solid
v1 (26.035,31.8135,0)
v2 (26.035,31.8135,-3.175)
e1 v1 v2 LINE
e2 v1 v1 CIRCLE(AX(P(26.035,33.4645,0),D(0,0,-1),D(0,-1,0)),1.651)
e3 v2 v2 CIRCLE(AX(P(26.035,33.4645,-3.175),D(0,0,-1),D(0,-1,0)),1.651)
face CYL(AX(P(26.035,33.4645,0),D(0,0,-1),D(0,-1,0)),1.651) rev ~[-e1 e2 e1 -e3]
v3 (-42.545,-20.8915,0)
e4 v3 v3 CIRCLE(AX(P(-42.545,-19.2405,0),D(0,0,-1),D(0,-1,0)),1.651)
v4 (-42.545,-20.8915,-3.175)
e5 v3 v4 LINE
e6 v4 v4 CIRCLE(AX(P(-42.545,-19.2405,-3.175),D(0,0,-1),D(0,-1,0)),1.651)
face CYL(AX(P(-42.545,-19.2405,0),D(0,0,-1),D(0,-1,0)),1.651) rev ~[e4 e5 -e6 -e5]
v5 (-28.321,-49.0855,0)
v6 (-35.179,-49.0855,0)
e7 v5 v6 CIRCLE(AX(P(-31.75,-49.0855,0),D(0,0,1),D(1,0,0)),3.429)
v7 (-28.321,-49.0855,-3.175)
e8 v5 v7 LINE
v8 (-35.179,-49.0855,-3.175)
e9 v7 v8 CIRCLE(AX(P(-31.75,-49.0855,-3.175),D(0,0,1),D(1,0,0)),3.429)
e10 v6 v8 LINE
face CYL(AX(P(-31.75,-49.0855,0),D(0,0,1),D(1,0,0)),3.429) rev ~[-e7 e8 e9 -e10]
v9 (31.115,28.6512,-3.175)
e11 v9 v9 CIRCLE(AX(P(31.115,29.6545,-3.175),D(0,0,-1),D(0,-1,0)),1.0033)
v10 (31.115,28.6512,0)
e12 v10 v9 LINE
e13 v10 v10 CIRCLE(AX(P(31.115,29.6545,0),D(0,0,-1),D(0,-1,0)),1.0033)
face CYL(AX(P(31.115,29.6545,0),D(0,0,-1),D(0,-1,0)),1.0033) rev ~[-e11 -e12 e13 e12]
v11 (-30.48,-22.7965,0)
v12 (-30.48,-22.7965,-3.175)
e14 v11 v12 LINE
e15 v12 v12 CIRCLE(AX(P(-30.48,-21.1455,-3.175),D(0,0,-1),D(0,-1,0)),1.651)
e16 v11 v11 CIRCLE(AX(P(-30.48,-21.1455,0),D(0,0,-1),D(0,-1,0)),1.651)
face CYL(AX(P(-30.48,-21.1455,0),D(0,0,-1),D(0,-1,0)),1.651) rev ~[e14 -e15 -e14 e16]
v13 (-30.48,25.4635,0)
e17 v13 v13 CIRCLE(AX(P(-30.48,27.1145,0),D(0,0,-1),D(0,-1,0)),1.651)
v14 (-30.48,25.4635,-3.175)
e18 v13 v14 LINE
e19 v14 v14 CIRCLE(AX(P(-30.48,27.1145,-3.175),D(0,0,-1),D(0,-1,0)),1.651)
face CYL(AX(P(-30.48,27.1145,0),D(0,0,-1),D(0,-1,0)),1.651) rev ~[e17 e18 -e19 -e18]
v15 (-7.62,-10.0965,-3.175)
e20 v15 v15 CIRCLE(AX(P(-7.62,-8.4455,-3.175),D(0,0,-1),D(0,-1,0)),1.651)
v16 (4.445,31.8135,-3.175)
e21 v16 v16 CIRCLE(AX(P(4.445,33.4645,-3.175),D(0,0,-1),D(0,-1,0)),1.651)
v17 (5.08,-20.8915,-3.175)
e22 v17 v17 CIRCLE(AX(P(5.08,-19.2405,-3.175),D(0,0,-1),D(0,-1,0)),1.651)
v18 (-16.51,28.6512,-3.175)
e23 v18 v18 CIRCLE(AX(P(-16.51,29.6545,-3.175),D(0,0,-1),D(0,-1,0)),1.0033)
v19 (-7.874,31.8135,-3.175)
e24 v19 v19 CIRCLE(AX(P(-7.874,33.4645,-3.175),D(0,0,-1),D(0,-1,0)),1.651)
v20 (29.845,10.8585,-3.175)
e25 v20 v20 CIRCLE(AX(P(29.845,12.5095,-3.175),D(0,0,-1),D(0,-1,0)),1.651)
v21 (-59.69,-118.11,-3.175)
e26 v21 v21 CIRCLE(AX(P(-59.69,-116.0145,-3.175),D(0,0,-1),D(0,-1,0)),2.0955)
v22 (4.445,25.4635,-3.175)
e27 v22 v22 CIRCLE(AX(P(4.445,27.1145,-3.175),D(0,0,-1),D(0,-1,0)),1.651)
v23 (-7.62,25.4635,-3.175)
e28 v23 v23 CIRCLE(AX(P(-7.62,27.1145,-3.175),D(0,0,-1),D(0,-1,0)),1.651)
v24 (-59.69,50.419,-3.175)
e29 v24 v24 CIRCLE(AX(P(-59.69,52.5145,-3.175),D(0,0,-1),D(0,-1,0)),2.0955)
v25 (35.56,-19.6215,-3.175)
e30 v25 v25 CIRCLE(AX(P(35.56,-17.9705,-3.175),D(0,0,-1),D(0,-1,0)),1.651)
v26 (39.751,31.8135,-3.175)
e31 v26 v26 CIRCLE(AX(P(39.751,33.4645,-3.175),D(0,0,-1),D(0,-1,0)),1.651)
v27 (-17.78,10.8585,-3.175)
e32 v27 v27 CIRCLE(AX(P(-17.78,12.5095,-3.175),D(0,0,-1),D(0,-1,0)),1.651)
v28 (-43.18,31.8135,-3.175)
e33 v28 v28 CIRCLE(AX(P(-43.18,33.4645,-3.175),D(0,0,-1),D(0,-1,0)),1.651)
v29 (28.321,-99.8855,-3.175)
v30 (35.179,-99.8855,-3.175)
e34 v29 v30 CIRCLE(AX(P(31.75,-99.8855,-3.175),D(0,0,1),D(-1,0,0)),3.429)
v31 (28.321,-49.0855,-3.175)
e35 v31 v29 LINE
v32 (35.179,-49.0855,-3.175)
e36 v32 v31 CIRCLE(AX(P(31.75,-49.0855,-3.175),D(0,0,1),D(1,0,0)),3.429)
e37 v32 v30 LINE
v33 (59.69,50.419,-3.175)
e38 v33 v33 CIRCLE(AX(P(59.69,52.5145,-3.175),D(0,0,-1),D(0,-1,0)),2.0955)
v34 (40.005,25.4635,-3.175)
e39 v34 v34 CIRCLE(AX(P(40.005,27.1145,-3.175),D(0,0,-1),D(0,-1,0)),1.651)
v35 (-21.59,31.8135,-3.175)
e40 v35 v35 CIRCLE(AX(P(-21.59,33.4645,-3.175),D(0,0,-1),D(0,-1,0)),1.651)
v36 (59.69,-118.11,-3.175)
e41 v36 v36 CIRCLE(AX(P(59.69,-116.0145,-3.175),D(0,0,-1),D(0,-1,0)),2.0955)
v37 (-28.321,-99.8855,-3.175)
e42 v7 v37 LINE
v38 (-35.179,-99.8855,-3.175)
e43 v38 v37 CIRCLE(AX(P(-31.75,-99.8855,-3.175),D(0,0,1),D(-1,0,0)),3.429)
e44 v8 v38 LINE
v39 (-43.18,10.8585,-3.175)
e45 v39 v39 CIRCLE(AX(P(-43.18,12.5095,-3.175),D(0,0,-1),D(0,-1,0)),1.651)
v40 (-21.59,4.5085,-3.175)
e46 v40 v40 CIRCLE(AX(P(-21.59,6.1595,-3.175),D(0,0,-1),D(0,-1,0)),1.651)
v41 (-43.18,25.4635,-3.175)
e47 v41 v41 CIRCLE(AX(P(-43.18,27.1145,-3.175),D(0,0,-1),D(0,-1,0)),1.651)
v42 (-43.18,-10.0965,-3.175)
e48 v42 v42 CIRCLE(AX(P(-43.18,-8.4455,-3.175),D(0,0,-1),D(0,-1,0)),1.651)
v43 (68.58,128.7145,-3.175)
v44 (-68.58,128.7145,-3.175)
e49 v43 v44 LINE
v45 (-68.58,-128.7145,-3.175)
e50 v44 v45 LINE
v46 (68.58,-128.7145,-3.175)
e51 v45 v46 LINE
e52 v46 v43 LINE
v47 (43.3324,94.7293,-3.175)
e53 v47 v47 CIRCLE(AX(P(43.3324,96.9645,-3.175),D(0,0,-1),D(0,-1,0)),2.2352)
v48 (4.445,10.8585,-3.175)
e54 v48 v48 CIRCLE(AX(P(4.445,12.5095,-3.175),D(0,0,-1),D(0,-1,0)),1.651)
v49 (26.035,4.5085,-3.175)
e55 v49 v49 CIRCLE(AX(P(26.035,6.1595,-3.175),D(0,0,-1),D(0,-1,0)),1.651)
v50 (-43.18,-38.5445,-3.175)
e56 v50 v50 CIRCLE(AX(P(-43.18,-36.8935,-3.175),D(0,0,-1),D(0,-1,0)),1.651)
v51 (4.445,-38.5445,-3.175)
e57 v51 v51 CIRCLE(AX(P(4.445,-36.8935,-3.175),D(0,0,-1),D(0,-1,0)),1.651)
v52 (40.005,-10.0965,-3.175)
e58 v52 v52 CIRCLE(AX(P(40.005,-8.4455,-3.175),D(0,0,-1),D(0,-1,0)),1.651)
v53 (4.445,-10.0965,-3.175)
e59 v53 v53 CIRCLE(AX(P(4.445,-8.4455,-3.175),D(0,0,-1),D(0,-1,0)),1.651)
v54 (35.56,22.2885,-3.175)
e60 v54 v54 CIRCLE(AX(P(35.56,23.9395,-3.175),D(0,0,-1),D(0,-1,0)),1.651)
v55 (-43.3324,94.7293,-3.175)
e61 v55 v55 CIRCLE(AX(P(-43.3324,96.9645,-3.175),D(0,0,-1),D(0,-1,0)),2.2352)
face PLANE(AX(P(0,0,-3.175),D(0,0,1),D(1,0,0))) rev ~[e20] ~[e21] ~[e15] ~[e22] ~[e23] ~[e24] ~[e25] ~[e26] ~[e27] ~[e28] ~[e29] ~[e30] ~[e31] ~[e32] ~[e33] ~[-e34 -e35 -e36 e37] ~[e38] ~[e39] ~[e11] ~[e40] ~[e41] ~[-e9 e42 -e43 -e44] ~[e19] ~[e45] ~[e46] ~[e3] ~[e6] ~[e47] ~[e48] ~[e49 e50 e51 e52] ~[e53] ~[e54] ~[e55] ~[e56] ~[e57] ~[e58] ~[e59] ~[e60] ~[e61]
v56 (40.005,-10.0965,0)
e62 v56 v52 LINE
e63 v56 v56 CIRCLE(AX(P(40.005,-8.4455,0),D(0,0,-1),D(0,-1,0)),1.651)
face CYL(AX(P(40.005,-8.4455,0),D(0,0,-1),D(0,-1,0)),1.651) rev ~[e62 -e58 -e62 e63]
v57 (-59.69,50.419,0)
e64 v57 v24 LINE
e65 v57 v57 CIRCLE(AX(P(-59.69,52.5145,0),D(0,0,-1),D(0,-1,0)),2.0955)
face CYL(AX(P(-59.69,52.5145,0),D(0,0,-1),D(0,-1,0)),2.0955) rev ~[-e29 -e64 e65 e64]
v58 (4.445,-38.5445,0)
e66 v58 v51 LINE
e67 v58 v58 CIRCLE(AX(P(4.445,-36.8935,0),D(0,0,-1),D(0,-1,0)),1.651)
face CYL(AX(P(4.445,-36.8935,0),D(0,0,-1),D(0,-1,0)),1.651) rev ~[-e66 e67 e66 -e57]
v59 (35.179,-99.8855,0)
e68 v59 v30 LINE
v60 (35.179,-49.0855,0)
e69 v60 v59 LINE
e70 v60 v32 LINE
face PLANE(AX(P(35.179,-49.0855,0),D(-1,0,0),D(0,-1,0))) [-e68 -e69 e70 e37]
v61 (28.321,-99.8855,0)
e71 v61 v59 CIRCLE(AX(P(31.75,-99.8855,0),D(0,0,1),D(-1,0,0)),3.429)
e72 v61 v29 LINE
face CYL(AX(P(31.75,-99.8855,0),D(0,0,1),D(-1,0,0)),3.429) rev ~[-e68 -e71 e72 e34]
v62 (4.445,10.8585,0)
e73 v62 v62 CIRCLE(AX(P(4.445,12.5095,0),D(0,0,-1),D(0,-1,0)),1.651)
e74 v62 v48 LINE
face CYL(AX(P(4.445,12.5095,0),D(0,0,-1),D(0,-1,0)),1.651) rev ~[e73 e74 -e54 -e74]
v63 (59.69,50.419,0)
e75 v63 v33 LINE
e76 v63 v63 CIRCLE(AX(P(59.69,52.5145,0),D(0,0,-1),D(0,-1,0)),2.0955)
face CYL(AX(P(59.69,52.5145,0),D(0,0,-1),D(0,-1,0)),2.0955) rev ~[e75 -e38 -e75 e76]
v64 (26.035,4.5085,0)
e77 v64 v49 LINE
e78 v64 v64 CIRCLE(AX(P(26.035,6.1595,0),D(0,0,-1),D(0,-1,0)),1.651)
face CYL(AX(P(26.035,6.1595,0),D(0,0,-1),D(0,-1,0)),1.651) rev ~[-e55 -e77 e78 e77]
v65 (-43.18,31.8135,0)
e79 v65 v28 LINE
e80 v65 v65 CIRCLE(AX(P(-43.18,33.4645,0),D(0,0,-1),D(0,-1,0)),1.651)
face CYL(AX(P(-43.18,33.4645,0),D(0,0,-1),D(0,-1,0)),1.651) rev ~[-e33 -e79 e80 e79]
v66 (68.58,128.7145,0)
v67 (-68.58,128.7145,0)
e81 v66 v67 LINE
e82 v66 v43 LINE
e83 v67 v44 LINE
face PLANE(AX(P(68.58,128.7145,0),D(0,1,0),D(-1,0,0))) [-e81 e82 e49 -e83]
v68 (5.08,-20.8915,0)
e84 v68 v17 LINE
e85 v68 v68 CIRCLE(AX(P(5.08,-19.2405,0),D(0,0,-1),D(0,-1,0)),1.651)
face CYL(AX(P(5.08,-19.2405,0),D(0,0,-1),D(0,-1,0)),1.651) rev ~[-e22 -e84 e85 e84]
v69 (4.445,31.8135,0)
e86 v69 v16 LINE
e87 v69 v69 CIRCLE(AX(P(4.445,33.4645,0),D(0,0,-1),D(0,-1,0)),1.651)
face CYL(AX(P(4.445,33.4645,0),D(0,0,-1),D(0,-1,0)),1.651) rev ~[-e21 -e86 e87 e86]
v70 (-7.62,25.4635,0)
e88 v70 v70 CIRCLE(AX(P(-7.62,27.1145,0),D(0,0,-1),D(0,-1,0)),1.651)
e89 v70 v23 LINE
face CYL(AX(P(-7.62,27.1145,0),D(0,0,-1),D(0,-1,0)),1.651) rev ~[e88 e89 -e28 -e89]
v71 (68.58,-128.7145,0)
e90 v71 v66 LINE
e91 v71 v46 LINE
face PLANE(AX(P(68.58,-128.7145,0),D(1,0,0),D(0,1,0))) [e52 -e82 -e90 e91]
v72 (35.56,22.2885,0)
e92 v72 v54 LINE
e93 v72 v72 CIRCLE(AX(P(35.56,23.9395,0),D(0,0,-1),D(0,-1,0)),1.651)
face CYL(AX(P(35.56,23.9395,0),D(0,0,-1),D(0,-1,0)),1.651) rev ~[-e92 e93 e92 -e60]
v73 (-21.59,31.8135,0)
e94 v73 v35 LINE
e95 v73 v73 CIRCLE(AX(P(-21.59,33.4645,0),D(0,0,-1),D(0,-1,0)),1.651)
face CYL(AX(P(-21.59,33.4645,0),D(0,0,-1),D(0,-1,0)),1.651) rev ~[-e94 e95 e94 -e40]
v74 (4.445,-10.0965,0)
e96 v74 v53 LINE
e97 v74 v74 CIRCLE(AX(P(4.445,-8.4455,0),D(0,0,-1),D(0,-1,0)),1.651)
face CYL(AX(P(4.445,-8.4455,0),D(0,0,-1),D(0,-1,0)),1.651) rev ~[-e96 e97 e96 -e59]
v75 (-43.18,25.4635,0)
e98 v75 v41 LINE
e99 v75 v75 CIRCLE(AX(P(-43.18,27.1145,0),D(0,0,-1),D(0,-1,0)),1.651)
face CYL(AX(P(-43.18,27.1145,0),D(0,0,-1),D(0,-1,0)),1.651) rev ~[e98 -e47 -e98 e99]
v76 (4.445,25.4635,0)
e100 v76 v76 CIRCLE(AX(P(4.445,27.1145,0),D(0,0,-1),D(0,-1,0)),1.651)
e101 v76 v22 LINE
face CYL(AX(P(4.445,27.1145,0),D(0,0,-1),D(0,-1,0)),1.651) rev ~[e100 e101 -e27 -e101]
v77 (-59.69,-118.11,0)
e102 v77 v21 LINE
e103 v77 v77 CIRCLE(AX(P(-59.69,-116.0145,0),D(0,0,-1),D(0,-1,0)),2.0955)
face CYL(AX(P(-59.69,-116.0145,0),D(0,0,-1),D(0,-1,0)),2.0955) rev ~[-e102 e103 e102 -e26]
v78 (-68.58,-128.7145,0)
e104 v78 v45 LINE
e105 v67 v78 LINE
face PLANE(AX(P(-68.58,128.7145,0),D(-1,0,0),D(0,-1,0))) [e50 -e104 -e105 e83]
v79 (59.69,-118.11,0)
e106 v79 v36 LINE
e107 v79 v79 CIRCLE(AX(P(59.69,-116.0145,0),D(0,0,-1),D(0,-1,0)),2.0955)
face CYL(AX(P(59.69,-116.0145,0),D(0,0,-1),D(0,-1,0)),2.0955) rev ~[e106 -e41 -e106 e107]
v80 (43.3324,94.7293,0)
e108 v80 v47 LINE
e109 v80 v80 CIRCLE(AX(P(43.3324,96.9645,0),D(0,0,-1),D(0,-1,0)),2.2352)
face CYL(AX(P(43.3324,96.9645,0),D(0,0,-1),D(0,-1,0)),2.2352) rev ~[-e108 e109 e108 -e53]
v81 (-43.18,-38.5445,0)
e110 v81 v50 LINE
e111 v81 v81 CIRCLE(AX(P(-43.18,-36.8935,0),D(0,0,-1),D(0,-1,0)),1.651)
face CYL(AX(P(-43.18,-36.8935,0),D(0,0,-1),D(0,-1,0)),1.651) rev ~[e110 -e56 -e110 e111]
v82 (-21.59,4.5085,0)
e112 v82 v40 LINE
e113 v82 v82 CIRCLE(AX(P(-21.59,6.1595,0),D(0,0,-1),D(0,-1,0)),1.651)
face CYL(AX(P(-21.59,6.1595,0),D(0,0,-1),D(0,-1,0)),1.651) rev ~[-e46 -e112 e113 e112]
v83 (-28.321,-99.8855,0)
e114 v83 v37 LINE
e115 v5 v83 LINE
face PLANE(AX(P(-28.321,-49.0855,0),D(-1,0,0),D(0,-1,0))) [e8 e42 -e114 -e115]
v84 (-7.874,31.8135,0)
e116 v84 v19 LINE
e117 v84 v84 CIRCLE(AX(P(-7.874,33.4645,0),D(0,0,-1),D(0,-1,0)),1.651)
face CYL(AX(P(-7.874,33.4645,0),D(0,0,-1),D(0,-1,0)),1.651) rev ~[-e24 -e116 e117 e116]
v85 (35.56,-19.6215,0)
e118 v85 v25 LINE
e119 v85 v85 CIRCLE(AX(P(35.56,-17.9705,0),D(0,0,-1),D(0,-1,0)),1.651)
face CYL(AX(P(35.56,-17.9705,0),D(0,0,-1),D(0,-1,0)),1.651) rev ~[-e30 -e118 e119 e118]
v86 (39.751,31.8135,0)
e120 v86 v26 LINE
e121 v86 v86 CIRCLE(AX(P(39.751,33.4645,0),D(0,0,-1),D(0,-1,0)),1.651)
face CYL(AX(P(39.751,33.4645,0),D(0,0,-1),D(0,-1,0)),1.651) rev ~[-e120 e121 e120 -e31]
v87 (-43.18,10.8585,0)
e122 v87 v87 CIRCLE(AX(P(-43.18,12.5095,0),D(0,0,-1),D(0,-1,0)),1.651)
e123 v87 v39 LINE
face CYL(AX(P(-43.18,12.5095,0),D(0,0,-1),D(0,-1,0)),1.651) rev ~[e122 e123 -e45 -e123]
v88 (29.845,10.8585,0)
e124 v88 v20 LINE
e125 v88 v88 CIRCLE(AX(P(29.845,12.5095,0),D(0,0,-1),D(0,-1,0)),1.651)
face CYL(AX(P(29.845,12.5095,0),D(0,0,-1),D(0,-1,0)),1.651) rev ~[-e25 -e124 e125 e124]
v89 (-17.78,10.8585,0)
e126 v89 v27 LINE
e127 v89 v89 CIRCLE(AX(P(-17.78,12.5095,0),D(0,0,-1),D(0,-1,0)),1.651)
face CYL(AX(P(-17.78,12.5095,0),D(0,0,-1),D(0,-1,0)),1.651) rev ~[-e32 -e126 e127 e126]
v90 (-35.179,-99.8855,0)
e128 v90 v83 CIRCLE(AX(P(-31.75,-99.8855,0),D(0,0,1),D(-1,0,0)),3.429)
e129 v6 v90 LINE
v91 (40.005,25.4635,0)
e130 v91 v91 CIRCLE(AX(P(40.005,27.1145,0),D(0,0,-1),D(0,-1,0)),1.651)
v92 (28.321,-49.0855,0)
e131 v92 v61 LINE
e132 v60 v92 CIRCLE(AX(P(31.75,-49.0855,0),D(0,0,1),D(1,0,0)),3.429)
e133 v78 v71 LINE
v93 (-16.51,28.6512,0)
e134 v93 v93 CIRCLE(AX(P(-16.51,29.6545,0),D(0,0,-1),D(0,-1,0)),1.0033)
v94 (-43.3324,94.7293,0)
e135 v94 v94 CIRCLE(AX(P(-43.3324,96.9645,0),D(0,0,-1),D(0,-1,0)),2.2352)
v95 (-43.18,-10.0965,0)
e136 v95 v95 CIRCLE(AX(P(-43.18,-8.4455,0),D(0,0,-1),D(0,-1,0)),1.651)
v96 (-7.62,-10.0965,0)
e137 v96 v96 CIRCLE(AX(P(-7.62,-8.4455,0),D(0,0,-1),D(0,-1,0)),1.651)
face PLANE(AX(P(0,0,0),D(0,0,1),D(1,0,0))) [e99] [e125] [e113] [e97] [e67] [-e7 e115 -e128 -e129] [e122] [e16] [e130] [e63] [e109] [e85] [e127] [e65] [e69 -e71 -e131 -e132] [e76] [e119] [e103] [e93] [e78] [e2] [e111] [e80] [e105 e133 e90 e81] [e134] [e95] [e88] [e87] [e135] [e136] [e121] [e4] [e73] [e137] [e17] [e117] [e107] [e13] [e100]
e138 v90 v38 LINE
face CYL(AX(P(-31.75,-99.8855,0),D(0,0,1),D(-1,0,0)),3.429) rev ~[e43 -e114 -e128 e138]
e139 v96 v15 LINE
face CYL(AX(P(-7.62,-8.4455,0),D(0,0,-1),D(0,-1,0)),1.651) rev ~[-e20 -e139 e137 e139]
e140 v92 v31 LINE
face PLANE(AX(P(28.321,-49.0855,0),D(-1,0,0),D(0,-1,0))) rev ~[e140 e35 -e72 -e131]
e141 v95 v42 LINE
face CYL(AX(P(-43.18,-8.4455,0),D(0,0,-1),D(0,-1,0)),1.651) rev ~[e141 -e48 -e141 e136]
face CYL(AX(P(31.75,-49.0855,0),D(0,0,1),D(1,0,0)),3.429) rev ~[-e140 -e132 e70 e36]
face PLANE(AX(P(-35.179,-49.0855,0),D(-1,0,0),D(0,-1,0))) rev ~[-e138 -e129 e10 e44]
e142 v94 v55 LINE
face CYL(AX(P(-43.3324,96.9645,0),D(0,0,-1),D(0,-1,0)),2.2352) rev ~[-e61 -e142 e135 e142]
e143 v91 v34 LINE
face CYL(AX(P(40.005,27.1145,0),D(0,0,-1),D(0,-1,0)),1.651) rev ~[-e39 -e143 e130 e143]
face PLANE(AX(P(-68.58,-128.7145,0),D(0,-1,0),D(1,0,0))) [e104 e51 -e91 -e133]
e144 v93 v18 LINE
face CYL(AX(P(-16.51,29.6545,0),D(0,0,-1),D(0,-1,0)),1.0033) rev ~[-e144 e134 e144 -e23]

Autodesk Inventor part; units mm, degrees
ref_plane "YZ Plane" through (0, 0, 0) normal (1, 0, 0) x (0, 1, 0)
ref_plane "XZ Plane" through (0, 0, 0) normal (0, 1, 0) x (-1, 0, 0)
ref_plane "XY Plane" through (0, 0, 0) normal (0, 0, 1) x (1, 0, 0)
sketch "Sketch1" plane through (0, 0, 0) normal (0, 0, 1) x (1, 0, 0)
  line L0 (-68.58, -128.7145) -> (68.58, -128.7145)
  line L1 (68.58, -128.7145) -> (68.58, 128.7145)
  line L2 (68.58, 128.7145) -> (-68.58, 128.7145)
  line L3 (-68.58, 128.7145) -> (-68.58, -128.7145)
  line L4 (-68.58, -128.7145) -> (68.58, 128.7145) construction
  line L5 (68.58, -128.7145) -> (-68.58, 128.7145) construction
  point P0 (0, 0)
  dimension "d0" = 137.16
  dimension "d1" = 257.429
extrude "Extrusion1" add sketch "Sketch1" against normal blind 3.175
sketch "Sketch2" plane through (0, 0, 0) normal (0, 0, 1) x (1, 0, 0)
  circle A0 centre (-59.69, 52.5145) radius 2.0955
  line L0 (-68.58, 128.7145) -> (-68.58, -128.7145) projected
  line L1 (-68.58, 128.7145) -> (68.58, 128.7145) projected
  circle A1 centre (59.69, 52.5145) radius 2.0955
  line L2 (68.58, -128.7145) -> (68.58, 128.7145) projected
  circle A2 centre (-59.69, -116.0145) radius 2.0955
  circle A3 centre (59.69, -116.0145) radius 2.0955
  line L3 (-68.58, -128.7145) -> (68.58, -128.7145) projected
  point P0 (0, 0)
  dimension "d4" = 8.89
  dimension "d5" = 76.2
  dimension "d6" = 76.2
  dimension "d7" = 8.89
  dimension "d8" = 4.191
  dimension "d9" = 12.7
  dimension "d10" = 8.89
  dimension "d11" = 8.89
  dimension "d12" = 12.7
  dimension "d13" = 4.191
  dimension "d21" = 4.191
  dimension "d22" = 4.191
hole "Hole1" at (-59.69, 52.5145, 0) at (59.69, 52.5145, 0) at (-59.69, -116.0145, 0) at (59.69, -116.0145, 0) direction (0, 0, -1) diameter 4.191 end through all
sketch "Sketch4" plane through (0, 0, 0) normal (0, 0, 1) x (1, 0, 0)
  line L0 (-35.179, -49.0855) -> (-35.179, -99.8855)
  line L1 (-28.321, -49.0855) -> (-28.321, -99.8855)
  line L2 (28.321, -49.0855) -> (28.321, -99.8855)
  line L3 (35.179, -49.0855) -> (35.179, -99.8855)
  line L4 (-68.58, 128.7145) -> (-68.58, -128.7145) projected
  line L5 (68.58, -128.7145) -> (68.58, 128.7145) projected
  line L6 (-68.58, -128.7145) -> (68.58, -128.7145) projected
  arc A0 (-28.321, -49.0855) -> (-35.179, -49.0855) centre (-31.75, -49.0855) ccw
  arc A1 (-35.179, -99.8855) -> (-28.321, -99.8855) centre (-31.75, -99.8855) ccw
  arc A2 (35.179, -49.0855) -> (28.321, -49.0855) centre (31.75, -49.0855) ccw
  arc A3 (28.321, -99.8855) -> (35.179, -99.8855) centre (31.75, -99.8855) ccw
  point P0 (0, 0)
  dimension "d23" = 6.858
  dimension "d24" = 6.858
  dimension "d25" = 33.401
  dimension "d26" = 50.8
  dimension "d27" = 33.401
  dimension "d28" = 28.829
  dimension "d29" = 28.829
  dimension "d30" = 28.829
  dimension "d31" = 28.829
  dimension "d32" = 50.8
  dimension "d33" = 50.8
  dimension "d34" = 50.8
extrude "Extrusion2" cut sketch "Sketch4" against normal blind 3.175
sketch "Sketch5" plane through (0, 0, 0) normal (0, 0, 1) x (1, 0, 0)
  line L0 (-68.58, 128.7145) -> (68.58, 128.7145) projected
  line L1 (68.58, 128.7145) -> (68.58, -128.7145) projected
  point P0 (0, 0)
  point P1 (-43.3324, 96.9645)
  point P2 (43.3324, 96.9645)
  dimension "d37" = 31.75
  dimension "d38" = 86.6648
  dimension "d39" = 31.75
  dimension "d40" = 25.2476
hole "Hole2" at (-43.3324, 96.9645, 0) at (43.3324, 96.9645, 0) direction (0, 0, -1) diameter 4.4704 end through all
sketch "battery_buzzer" plane through (0, 0, 0) normal (0, 0, 1) x (1, 0, 0)
  line L0 (-50.8, 39.8145) -> (50.8, 39.8145)
  line L1 (50.8, 39.8145) -> (50.8, -36.3855)
  line L2 (50.8, -36.3855) -> (-50.8, -36.3855)
  line L3 (-50.8, -36.3855) -> (-50.8, 39.8145)
  line L4 (68.58, -128.7145) -> (68.58, 128.7145) projected
  line L5 (68.58, 128.7145) -> (-68.58, 128.7145) projected
  line L6 (-68.58, 128.7145) -> (-68.58, -128.7145) projected
  line L7 (-46.99, 37.2745) -> (-13.97, 37.2745)
  line L8 (-13.97, 37.2745) -> (-13.97, 9.3345)
  line L9 (-13.97, 9.3345) -> (-46.99, 9.3345)
  line L10 (-46.99, 9.3345) -> (-46.99, 37.2745)
  circle A0 centre (-43.18, 33.4645) radius 1.651
  circle A1 centre (-43.18, 12.5095) radius 1.651
  circle A2 centre (-17.78, 12.5095) radius 1.651
  line L11 (0.635, 37.2745) -> (33.655, 37.2745)
  line L12 (33.655, 37.2745) -> (33.655, 9.3345)
  line L13 (33.655, 9.3345) -> (0.635, 9.3345)
  line L14 (0.635, 9.3345) -> (0.635, 37.2745)
  circle A3 centre (4.445, 33.4645) radius 1.651
  circle A4 centre (4.445, 12.5095) radius 1.651
  circle A5 centre (29.845, 12.5095) radius 1.651
  point P0 (-1.6153, -4.4833)
  point P1 (48.3688, -4.4833)
  dimension "d48" = 17.78
  dimension "d49" = 88.9
  dimension "d50" = 76.2
  dimension "d51" = 17.78
  dimension "d52" = 33.02
  dimension "d54" = 3.302
  dimension "d55" = 3.302
  dimension "d57" = 3.81
  dimension "d58" = 3.81
  dimension "d59" = 3.81
  dimension "d60" = 20.955
  dimension "d62" = 25.4
  dimension "d74" = 33.02
  dimension "d75" = 3.302
  dimension "d76" = 3.302
  dimension "d77" = 3.81
  dimension "d78" = 3.81
  dimension "d79" = 3.81
  dimension "d80" = 20.955
  dimension "d81" = 25.4
  dimension "d190" = 25.4
  dimension "d191" = 95.25
  dimension "d192" = 73.025
sketch "grizzly_bear" plane through (0, 0, 0) normal (0, 0, 1) x (1, 0, 0)
  line L0 (-5.08, -39.9415) -> (-5.08, 36.2585)
  line L1 (-5.08, 36.2585) -> (-46.355, 36.2585)
  line L2 (-46.355, 36.2585) -> (-46.355, -39.9415)
  line L3 (-46.355, -39.9415) -> (-5.08, -39.9415)
  circle A0 centre (-43.18, -36.8935) radius 1.651
  circle A1 centre (-7.874, 33.4645) radius 1.651
  circle A2 centre (-43.18, 33.4645) radius 1.651
  line L4 (42.545, -39.9415) -> (42.545, 36.2585)
  line L5 (42.545, 36.2585) -> (1.27, 36.2585)
  line L6 (1.27, 36.2585) -> (1.27, -39.9415)
  line L7 (1.27, -39.9415) -> (42.545, -39.9415)
  circle A3 centre (4.445, -36.8935) radius 1.651
  circle A4 centre (39.751, 33.4645) radius 1.651
  circle A5 centre (4.445, 33.4645) radius 1.651
  line L8 (-68.58, 128.7145) -> (-68.58, -128.7145) projected
  line L9 (68.58, 128.7145) -> (-68.58, 128.7145) projected
  point P0 (0, 0)
  point P1 (53.9394, 0)
  dimension "d83" = 3.302
  dimension "d85" = 76.2
  dimension "d86" = 41.275
  dimension "d89" = 2.794
  dimension "d90" = 3.175
  dimension "d91" = 2.794
  dimension "d92" = 38.481
  dimension "d97" = 73.152
  dimension "d98" = 3.175
  dimension "d166" = 3.302
  dimension "d168" = 76.2
  dimension "d169" = 41.275
  dimension "d172" = 2.794
  dimension "d173" = 3.175
  dimension "d174" = 2.794
  dimension "d175" = 38.481
  dimension "d180" = 73.152
  dimension "d181" = 3.175
  dimension "d182" = 6.35
  dimension "d188" = 95.25
  dimension "d189" = 25.4
sketch "Smartsensor" plane through (0, 0, 0) normal (0, 0, 1) x (1, 0, 0)
  line L0 (-46.99, 9.3345) -> (-46.99, 37.2745)
  line L1 (-46.99, 37.2745) -> (-13.97, 37.2745)
  line L2 (-13.97, 37.2745) -> (-13.97, 9.3345)
  line L3 (-46.99, 9.3345) -> (-13.97, 9.3345)
  circle A0 centre (-43.18, 33.4645) radius 1.651
  circle A1 centre (-17.78, 12.5095) radius 1.651
  circle A2 centre (-16.51, 29.6545) radius 1
  line L4 (0.635, 9.3345) -> (0.635, 37.2745)
  line L5 (0.635, 37.2745) -> (33.655, 37.2745)
  line L6 (33.655, 37.2745) -> (33.655, 9.3345)
  line L7 (0.635, 9.3345) -> (33.655, 9.3345)
  circle A3 centre (4.445, 33.4645) radius 1.651
  circle A4 centre (29.845, 12.5095) radius 1.651
  circle A5 centre (31.115, 29.6545) radius 1
  point P0 (0, 0)
  point P1 (4.445, 33.4645)
sketch "SmartsensorPowered" plane through (0, 0, 0) normal (0, 0, 1) x (1, 0, 0)
  line L0 (-46.355, 36.6395) -> (-18.415, 36.6395)
  line L1 (-18.415, 36.6395) -> (-18.415, -23.0505)
  line L2 (-18.415, -23.0505) -> (-46.355, -23.0505)
  line L3 (-46.355, -23.0505) -> (-46.355, 36.6395)
  circle A0 centre (-43.18, 33.4645) radius 1.651
  circle A1 centre (-21.59, 33.4645) radius 1.651
  circle A2 centre (-42.545, -19.2405) radius 1.651
  circle A3 centre (-21.59, 6.1595) radius 1.651
  line L4 (-68.58, 128.7145) -> (-68.58, -128.7145) projected
  line L5 (68.58, 128.7145) -> (-68.58, 128.7145) projected
  line L6 (1.27, 36.6395) -> (29.21, 36.6395)
  line L7 (29.21, 36.6395) -> (29.21, -23.0505)
  line L8 (29.21, -23.0505) -> (1.27, -23.0505)
  line L9 (1.27, -23.0505) -> (1.27, 36.6395)
  circle A4 centre (4.445, 33.4645) radius 1.651
  circle A5 centre (26.035, 33.4645) radius 1.651
  circle A6 centre (5.08, -19.2405) radius 1.651
  circle A7 centre (26.035, 6.1595) radius 1.651
  dimension "d99" = 59.69
  dimension "d100" = 27.94
  dimension "d101" = 3.302
  dimension "d102" = 3.302
  dimension "d103" = 3.302
  dimension "d104" = 3.302
  dimension "d105" = 3.175
  dimension "d106" = 3.81
  dimension "d107" = 3.175
  dimension "d108" = 3.81
  dimension "d109" = 3.175
  dimension "d110" = 3.175
  dimension "d111" = 3.175
  dimension "d112" = 30.48
  dimension "d186" = 25.4
  dimension "d187" = 95.25
  dimension "d193" = 59.69
  dimension "d194" = 27.94
  dimension "d195" = 3.302
  dimension "d196" = 3.302
  dimension "d197" = 3.302
  dimension "d198" = 3.302
  dimension "d199" = 3.175
  dimension "d200" = 3.81
  dimension "d201" = 3.175
  dimension "d202" = 3.81
  dimension "d203" = 3.175
  dimension "d204" = 3.175
  dimension "d205" = 3.175
  dimension "d206" = 30.48
  dimension "d207" = 73.025
sketch "teamflag" plane through (0, 0, 0) normal (0, 0, 1) x (1, 0, 0)
  line L0 (-45.72, 29.6545) -> (-5.08, 29.6545)
  line L1 (-5.08, 29.6545) -> (-5.08, -10.9855)
  line L2 (-5.08, -10.9855) -> (-45.72, -10.9855)
  line L3 (-45.72, -10.9855) -> (-45.72, 29.6545)
  circle A0 centre (-43.18, 27.1145) radius 1.651
  circle A1 centre (-43.18, -8.4455) radius 1.651
  circle A2 centre (-7.62, 27.1145) radius 1.651
  circle A3 centre (-7.62, -8.4455) radius 1.651
  line L4 (1.905, 29.6545) -> (42.545, 29.6545)
  line L5 (42.545, 29.6545) -> (42.545, -10.9855)
  line L6 (42.545, -10.9855) -> (1.905, -10.9855)
  line L7 (1.905, -10.9855) -> (1.905, 29.6545)
  circle A4 centre (4.445, 27.1145) radius 1.651
  circle A5 centre (4.445, -8.4455) radius 1.651
  circle A6 centre (40.005, 27.1145) radius 1.651
  circle A7 centre (40.005, -8.4455) radius 1.651
  line L8 (-68.58, 128.7145) -> (-68.58, -128.7145) projected
  line L9 (68.58, 128.7145) -> (-68.58, 128.7145) projected
  point P0 (0, 0)
  point P1 (-43.18, 33.4645)
  point P2 (4.445, 33.4645)
  point P3 (-42.545, -19.2405)
  point P4 (5.08, -19.2405)
  point P5 (-43.18, 33.4645)
  point P6 (4.445, 27.1145)
  dimension "d128" = 40.64
  dimension "d129" = 40.64
  dimension "d140" = 35.56
  dimension "d141" = 35.56
  dimension "d142" = 35.56
  dimension "d143" = 2.54
  dimension "d144" = 2.54
  dimension "d145" = 40.64
  dimension "d146" = 40.64
  dimension "d147" = 35.56
  dimension "d148" = 35.56
  dimension "d149" = 35.56
  dimension "d150" = 2.54
  dimension "d151" = 2.54
  dimension "d209" = 25.4
  dimension "d210" = 101.6
  dimension "d211" = 73.025
  dimension "d212" = 101.6
sketch "cape" plane through (0, 0, 0) normal (0, 0, 1) x (1, 0, 0)
  line L0 (-33.655, 30.2793) -> (38.4048, 30.2793)
  line L1 (38.4048, 30.2793) -> (38.4048, -24.3205)
  line L2 (38.4048, -24.3205) -> (-33.655, -24.3205)
  line L3 (-33.655, -24.3205) -> (-33.655, 30.2793)
  circle A0 centre (-30.48, 27.1145) radius 1.5875
  circle A1 centre (-30.48, -21.1455) radius 1.5875
  circle A2 centre (35.56, 23.9395) radius 1.5875
  circle A3 centre (35.56, -17.9705) radius 1.5875
  line L4 (-68.58, 128.7145) -> (-68.58, -128.7145) projected
  point P0 (0, 0)
  point P1 (-43.18, 33.4645)
  point P2 (-43.18, 27.1145)
  point P3 (-42.545, -19.2405)
  point P4 (-30.48, 27.1145)
  point P5 (-24.13, 20.7645)
  dimension "d152" = 3.175
  dimension "d153" = 72.0598
  dimension "d154" = 54.5998
  dimension "d155" = 48.26
  dimension "d156" = 0
  dimension "d157" = 3.175
  dimension "d158" = 3.175
  dimension "d159" = 41.91
  dimension "d160" = 0
  dimension "d161" = 6.35
  dimension "d162" = 2.8448
  dimension "d269" = 38.1
  dimension "d270" = 44.45
sketch "Board Area" plane through (0, 0, 0) normal (0, 0, 1) x (1, 0, 0)
  line L0 (-50.8, 39.8145) -> (50.8, 39.8145)
  line L1 (50.8, 39.8145) -> (50.8, -128.7145)
  line L2 (50.8, -128.7145) -> (-50.8, -128.7145)
  line L3 (-50.8, -128.7145) -> (-50.8, 39.8145)
  line L4 (68.58, 128.7145) -> (-68.58, 128.7145) projected
  line L5 (-68.58, 128.7145) -> (-68.58, -128.7145) projected
  line L6 (-68.58, -128.7145) -> (68.58, -128.7145) projected
  point P0 (0, 0)
  dimension "d163" = 101.6
  dimension "d164" = 88.9
  dimension "d165" = 17.78
hole "Hole3" at (-43.18, 27.1145, 0) at (-43.18, -8.4455, 0) at (-7.62, -8.4455, 0) at (-7.62, 27.1145, 0) at (4.445, 27.1145, 0) at (4.445, -8.4455, 0) at (40.005, -8.4455, 0) at (40.005, 27.1145, 0) direction (0, 0, -1) diameter 3.302 end through all
hole "Hole5" at (-43.18, -36.8935, 0) at (4.445, -36.8935, 0) at (39.751, 33.4645, 0) at (-7.874, 33.4645, 0) direction (0, 0, -1) diameter 3.302 end through all
hole "Hole6" at (-17.78, 12.5095, 0) at (29.845, 12.5095, 0) direction (0, 0, -1) diameter 3.302 end through all
hole "Hole7" at (-43.18, 12.5095, 0) at (4.445, 12.5095, 0) direction (0, 0, -1) diameter 3.302 end through all
hole "Hole9" at (-43.18, 33.4645, 0) at (4.445, 33.4645, 0) at (-16.51, 29.6545, 0) direction (0, 0, -1) diameter 2.0066 end through all
hole "Hole10" at (31.115, 29.6545, 0) direction (0, 0, -1) diameter 2.0066 end through all
hole "Hole11" at (-30.48, 27.1145, 0) at (-30.48, -21.1455, 0) at (35.56, -17.9705, 0) at (35.56, 23.9395, 0) direction (0, 0, -1) diameter 3.302 end through all
hole "Hole12" at (-42.545, -19.2405, 0) at (-21.59, 33.4645, 0) at (26.035, 33.4645, 0) at (5.08, -19.2405, 0) at (4.445, 33.4645, 0) at (-43.18, 33.4645, 0) at (-21.59, 6.1595, 0) at (26.035, 6.1595, 0) direction (0, 0, -1) diameter 3.302 end through all
